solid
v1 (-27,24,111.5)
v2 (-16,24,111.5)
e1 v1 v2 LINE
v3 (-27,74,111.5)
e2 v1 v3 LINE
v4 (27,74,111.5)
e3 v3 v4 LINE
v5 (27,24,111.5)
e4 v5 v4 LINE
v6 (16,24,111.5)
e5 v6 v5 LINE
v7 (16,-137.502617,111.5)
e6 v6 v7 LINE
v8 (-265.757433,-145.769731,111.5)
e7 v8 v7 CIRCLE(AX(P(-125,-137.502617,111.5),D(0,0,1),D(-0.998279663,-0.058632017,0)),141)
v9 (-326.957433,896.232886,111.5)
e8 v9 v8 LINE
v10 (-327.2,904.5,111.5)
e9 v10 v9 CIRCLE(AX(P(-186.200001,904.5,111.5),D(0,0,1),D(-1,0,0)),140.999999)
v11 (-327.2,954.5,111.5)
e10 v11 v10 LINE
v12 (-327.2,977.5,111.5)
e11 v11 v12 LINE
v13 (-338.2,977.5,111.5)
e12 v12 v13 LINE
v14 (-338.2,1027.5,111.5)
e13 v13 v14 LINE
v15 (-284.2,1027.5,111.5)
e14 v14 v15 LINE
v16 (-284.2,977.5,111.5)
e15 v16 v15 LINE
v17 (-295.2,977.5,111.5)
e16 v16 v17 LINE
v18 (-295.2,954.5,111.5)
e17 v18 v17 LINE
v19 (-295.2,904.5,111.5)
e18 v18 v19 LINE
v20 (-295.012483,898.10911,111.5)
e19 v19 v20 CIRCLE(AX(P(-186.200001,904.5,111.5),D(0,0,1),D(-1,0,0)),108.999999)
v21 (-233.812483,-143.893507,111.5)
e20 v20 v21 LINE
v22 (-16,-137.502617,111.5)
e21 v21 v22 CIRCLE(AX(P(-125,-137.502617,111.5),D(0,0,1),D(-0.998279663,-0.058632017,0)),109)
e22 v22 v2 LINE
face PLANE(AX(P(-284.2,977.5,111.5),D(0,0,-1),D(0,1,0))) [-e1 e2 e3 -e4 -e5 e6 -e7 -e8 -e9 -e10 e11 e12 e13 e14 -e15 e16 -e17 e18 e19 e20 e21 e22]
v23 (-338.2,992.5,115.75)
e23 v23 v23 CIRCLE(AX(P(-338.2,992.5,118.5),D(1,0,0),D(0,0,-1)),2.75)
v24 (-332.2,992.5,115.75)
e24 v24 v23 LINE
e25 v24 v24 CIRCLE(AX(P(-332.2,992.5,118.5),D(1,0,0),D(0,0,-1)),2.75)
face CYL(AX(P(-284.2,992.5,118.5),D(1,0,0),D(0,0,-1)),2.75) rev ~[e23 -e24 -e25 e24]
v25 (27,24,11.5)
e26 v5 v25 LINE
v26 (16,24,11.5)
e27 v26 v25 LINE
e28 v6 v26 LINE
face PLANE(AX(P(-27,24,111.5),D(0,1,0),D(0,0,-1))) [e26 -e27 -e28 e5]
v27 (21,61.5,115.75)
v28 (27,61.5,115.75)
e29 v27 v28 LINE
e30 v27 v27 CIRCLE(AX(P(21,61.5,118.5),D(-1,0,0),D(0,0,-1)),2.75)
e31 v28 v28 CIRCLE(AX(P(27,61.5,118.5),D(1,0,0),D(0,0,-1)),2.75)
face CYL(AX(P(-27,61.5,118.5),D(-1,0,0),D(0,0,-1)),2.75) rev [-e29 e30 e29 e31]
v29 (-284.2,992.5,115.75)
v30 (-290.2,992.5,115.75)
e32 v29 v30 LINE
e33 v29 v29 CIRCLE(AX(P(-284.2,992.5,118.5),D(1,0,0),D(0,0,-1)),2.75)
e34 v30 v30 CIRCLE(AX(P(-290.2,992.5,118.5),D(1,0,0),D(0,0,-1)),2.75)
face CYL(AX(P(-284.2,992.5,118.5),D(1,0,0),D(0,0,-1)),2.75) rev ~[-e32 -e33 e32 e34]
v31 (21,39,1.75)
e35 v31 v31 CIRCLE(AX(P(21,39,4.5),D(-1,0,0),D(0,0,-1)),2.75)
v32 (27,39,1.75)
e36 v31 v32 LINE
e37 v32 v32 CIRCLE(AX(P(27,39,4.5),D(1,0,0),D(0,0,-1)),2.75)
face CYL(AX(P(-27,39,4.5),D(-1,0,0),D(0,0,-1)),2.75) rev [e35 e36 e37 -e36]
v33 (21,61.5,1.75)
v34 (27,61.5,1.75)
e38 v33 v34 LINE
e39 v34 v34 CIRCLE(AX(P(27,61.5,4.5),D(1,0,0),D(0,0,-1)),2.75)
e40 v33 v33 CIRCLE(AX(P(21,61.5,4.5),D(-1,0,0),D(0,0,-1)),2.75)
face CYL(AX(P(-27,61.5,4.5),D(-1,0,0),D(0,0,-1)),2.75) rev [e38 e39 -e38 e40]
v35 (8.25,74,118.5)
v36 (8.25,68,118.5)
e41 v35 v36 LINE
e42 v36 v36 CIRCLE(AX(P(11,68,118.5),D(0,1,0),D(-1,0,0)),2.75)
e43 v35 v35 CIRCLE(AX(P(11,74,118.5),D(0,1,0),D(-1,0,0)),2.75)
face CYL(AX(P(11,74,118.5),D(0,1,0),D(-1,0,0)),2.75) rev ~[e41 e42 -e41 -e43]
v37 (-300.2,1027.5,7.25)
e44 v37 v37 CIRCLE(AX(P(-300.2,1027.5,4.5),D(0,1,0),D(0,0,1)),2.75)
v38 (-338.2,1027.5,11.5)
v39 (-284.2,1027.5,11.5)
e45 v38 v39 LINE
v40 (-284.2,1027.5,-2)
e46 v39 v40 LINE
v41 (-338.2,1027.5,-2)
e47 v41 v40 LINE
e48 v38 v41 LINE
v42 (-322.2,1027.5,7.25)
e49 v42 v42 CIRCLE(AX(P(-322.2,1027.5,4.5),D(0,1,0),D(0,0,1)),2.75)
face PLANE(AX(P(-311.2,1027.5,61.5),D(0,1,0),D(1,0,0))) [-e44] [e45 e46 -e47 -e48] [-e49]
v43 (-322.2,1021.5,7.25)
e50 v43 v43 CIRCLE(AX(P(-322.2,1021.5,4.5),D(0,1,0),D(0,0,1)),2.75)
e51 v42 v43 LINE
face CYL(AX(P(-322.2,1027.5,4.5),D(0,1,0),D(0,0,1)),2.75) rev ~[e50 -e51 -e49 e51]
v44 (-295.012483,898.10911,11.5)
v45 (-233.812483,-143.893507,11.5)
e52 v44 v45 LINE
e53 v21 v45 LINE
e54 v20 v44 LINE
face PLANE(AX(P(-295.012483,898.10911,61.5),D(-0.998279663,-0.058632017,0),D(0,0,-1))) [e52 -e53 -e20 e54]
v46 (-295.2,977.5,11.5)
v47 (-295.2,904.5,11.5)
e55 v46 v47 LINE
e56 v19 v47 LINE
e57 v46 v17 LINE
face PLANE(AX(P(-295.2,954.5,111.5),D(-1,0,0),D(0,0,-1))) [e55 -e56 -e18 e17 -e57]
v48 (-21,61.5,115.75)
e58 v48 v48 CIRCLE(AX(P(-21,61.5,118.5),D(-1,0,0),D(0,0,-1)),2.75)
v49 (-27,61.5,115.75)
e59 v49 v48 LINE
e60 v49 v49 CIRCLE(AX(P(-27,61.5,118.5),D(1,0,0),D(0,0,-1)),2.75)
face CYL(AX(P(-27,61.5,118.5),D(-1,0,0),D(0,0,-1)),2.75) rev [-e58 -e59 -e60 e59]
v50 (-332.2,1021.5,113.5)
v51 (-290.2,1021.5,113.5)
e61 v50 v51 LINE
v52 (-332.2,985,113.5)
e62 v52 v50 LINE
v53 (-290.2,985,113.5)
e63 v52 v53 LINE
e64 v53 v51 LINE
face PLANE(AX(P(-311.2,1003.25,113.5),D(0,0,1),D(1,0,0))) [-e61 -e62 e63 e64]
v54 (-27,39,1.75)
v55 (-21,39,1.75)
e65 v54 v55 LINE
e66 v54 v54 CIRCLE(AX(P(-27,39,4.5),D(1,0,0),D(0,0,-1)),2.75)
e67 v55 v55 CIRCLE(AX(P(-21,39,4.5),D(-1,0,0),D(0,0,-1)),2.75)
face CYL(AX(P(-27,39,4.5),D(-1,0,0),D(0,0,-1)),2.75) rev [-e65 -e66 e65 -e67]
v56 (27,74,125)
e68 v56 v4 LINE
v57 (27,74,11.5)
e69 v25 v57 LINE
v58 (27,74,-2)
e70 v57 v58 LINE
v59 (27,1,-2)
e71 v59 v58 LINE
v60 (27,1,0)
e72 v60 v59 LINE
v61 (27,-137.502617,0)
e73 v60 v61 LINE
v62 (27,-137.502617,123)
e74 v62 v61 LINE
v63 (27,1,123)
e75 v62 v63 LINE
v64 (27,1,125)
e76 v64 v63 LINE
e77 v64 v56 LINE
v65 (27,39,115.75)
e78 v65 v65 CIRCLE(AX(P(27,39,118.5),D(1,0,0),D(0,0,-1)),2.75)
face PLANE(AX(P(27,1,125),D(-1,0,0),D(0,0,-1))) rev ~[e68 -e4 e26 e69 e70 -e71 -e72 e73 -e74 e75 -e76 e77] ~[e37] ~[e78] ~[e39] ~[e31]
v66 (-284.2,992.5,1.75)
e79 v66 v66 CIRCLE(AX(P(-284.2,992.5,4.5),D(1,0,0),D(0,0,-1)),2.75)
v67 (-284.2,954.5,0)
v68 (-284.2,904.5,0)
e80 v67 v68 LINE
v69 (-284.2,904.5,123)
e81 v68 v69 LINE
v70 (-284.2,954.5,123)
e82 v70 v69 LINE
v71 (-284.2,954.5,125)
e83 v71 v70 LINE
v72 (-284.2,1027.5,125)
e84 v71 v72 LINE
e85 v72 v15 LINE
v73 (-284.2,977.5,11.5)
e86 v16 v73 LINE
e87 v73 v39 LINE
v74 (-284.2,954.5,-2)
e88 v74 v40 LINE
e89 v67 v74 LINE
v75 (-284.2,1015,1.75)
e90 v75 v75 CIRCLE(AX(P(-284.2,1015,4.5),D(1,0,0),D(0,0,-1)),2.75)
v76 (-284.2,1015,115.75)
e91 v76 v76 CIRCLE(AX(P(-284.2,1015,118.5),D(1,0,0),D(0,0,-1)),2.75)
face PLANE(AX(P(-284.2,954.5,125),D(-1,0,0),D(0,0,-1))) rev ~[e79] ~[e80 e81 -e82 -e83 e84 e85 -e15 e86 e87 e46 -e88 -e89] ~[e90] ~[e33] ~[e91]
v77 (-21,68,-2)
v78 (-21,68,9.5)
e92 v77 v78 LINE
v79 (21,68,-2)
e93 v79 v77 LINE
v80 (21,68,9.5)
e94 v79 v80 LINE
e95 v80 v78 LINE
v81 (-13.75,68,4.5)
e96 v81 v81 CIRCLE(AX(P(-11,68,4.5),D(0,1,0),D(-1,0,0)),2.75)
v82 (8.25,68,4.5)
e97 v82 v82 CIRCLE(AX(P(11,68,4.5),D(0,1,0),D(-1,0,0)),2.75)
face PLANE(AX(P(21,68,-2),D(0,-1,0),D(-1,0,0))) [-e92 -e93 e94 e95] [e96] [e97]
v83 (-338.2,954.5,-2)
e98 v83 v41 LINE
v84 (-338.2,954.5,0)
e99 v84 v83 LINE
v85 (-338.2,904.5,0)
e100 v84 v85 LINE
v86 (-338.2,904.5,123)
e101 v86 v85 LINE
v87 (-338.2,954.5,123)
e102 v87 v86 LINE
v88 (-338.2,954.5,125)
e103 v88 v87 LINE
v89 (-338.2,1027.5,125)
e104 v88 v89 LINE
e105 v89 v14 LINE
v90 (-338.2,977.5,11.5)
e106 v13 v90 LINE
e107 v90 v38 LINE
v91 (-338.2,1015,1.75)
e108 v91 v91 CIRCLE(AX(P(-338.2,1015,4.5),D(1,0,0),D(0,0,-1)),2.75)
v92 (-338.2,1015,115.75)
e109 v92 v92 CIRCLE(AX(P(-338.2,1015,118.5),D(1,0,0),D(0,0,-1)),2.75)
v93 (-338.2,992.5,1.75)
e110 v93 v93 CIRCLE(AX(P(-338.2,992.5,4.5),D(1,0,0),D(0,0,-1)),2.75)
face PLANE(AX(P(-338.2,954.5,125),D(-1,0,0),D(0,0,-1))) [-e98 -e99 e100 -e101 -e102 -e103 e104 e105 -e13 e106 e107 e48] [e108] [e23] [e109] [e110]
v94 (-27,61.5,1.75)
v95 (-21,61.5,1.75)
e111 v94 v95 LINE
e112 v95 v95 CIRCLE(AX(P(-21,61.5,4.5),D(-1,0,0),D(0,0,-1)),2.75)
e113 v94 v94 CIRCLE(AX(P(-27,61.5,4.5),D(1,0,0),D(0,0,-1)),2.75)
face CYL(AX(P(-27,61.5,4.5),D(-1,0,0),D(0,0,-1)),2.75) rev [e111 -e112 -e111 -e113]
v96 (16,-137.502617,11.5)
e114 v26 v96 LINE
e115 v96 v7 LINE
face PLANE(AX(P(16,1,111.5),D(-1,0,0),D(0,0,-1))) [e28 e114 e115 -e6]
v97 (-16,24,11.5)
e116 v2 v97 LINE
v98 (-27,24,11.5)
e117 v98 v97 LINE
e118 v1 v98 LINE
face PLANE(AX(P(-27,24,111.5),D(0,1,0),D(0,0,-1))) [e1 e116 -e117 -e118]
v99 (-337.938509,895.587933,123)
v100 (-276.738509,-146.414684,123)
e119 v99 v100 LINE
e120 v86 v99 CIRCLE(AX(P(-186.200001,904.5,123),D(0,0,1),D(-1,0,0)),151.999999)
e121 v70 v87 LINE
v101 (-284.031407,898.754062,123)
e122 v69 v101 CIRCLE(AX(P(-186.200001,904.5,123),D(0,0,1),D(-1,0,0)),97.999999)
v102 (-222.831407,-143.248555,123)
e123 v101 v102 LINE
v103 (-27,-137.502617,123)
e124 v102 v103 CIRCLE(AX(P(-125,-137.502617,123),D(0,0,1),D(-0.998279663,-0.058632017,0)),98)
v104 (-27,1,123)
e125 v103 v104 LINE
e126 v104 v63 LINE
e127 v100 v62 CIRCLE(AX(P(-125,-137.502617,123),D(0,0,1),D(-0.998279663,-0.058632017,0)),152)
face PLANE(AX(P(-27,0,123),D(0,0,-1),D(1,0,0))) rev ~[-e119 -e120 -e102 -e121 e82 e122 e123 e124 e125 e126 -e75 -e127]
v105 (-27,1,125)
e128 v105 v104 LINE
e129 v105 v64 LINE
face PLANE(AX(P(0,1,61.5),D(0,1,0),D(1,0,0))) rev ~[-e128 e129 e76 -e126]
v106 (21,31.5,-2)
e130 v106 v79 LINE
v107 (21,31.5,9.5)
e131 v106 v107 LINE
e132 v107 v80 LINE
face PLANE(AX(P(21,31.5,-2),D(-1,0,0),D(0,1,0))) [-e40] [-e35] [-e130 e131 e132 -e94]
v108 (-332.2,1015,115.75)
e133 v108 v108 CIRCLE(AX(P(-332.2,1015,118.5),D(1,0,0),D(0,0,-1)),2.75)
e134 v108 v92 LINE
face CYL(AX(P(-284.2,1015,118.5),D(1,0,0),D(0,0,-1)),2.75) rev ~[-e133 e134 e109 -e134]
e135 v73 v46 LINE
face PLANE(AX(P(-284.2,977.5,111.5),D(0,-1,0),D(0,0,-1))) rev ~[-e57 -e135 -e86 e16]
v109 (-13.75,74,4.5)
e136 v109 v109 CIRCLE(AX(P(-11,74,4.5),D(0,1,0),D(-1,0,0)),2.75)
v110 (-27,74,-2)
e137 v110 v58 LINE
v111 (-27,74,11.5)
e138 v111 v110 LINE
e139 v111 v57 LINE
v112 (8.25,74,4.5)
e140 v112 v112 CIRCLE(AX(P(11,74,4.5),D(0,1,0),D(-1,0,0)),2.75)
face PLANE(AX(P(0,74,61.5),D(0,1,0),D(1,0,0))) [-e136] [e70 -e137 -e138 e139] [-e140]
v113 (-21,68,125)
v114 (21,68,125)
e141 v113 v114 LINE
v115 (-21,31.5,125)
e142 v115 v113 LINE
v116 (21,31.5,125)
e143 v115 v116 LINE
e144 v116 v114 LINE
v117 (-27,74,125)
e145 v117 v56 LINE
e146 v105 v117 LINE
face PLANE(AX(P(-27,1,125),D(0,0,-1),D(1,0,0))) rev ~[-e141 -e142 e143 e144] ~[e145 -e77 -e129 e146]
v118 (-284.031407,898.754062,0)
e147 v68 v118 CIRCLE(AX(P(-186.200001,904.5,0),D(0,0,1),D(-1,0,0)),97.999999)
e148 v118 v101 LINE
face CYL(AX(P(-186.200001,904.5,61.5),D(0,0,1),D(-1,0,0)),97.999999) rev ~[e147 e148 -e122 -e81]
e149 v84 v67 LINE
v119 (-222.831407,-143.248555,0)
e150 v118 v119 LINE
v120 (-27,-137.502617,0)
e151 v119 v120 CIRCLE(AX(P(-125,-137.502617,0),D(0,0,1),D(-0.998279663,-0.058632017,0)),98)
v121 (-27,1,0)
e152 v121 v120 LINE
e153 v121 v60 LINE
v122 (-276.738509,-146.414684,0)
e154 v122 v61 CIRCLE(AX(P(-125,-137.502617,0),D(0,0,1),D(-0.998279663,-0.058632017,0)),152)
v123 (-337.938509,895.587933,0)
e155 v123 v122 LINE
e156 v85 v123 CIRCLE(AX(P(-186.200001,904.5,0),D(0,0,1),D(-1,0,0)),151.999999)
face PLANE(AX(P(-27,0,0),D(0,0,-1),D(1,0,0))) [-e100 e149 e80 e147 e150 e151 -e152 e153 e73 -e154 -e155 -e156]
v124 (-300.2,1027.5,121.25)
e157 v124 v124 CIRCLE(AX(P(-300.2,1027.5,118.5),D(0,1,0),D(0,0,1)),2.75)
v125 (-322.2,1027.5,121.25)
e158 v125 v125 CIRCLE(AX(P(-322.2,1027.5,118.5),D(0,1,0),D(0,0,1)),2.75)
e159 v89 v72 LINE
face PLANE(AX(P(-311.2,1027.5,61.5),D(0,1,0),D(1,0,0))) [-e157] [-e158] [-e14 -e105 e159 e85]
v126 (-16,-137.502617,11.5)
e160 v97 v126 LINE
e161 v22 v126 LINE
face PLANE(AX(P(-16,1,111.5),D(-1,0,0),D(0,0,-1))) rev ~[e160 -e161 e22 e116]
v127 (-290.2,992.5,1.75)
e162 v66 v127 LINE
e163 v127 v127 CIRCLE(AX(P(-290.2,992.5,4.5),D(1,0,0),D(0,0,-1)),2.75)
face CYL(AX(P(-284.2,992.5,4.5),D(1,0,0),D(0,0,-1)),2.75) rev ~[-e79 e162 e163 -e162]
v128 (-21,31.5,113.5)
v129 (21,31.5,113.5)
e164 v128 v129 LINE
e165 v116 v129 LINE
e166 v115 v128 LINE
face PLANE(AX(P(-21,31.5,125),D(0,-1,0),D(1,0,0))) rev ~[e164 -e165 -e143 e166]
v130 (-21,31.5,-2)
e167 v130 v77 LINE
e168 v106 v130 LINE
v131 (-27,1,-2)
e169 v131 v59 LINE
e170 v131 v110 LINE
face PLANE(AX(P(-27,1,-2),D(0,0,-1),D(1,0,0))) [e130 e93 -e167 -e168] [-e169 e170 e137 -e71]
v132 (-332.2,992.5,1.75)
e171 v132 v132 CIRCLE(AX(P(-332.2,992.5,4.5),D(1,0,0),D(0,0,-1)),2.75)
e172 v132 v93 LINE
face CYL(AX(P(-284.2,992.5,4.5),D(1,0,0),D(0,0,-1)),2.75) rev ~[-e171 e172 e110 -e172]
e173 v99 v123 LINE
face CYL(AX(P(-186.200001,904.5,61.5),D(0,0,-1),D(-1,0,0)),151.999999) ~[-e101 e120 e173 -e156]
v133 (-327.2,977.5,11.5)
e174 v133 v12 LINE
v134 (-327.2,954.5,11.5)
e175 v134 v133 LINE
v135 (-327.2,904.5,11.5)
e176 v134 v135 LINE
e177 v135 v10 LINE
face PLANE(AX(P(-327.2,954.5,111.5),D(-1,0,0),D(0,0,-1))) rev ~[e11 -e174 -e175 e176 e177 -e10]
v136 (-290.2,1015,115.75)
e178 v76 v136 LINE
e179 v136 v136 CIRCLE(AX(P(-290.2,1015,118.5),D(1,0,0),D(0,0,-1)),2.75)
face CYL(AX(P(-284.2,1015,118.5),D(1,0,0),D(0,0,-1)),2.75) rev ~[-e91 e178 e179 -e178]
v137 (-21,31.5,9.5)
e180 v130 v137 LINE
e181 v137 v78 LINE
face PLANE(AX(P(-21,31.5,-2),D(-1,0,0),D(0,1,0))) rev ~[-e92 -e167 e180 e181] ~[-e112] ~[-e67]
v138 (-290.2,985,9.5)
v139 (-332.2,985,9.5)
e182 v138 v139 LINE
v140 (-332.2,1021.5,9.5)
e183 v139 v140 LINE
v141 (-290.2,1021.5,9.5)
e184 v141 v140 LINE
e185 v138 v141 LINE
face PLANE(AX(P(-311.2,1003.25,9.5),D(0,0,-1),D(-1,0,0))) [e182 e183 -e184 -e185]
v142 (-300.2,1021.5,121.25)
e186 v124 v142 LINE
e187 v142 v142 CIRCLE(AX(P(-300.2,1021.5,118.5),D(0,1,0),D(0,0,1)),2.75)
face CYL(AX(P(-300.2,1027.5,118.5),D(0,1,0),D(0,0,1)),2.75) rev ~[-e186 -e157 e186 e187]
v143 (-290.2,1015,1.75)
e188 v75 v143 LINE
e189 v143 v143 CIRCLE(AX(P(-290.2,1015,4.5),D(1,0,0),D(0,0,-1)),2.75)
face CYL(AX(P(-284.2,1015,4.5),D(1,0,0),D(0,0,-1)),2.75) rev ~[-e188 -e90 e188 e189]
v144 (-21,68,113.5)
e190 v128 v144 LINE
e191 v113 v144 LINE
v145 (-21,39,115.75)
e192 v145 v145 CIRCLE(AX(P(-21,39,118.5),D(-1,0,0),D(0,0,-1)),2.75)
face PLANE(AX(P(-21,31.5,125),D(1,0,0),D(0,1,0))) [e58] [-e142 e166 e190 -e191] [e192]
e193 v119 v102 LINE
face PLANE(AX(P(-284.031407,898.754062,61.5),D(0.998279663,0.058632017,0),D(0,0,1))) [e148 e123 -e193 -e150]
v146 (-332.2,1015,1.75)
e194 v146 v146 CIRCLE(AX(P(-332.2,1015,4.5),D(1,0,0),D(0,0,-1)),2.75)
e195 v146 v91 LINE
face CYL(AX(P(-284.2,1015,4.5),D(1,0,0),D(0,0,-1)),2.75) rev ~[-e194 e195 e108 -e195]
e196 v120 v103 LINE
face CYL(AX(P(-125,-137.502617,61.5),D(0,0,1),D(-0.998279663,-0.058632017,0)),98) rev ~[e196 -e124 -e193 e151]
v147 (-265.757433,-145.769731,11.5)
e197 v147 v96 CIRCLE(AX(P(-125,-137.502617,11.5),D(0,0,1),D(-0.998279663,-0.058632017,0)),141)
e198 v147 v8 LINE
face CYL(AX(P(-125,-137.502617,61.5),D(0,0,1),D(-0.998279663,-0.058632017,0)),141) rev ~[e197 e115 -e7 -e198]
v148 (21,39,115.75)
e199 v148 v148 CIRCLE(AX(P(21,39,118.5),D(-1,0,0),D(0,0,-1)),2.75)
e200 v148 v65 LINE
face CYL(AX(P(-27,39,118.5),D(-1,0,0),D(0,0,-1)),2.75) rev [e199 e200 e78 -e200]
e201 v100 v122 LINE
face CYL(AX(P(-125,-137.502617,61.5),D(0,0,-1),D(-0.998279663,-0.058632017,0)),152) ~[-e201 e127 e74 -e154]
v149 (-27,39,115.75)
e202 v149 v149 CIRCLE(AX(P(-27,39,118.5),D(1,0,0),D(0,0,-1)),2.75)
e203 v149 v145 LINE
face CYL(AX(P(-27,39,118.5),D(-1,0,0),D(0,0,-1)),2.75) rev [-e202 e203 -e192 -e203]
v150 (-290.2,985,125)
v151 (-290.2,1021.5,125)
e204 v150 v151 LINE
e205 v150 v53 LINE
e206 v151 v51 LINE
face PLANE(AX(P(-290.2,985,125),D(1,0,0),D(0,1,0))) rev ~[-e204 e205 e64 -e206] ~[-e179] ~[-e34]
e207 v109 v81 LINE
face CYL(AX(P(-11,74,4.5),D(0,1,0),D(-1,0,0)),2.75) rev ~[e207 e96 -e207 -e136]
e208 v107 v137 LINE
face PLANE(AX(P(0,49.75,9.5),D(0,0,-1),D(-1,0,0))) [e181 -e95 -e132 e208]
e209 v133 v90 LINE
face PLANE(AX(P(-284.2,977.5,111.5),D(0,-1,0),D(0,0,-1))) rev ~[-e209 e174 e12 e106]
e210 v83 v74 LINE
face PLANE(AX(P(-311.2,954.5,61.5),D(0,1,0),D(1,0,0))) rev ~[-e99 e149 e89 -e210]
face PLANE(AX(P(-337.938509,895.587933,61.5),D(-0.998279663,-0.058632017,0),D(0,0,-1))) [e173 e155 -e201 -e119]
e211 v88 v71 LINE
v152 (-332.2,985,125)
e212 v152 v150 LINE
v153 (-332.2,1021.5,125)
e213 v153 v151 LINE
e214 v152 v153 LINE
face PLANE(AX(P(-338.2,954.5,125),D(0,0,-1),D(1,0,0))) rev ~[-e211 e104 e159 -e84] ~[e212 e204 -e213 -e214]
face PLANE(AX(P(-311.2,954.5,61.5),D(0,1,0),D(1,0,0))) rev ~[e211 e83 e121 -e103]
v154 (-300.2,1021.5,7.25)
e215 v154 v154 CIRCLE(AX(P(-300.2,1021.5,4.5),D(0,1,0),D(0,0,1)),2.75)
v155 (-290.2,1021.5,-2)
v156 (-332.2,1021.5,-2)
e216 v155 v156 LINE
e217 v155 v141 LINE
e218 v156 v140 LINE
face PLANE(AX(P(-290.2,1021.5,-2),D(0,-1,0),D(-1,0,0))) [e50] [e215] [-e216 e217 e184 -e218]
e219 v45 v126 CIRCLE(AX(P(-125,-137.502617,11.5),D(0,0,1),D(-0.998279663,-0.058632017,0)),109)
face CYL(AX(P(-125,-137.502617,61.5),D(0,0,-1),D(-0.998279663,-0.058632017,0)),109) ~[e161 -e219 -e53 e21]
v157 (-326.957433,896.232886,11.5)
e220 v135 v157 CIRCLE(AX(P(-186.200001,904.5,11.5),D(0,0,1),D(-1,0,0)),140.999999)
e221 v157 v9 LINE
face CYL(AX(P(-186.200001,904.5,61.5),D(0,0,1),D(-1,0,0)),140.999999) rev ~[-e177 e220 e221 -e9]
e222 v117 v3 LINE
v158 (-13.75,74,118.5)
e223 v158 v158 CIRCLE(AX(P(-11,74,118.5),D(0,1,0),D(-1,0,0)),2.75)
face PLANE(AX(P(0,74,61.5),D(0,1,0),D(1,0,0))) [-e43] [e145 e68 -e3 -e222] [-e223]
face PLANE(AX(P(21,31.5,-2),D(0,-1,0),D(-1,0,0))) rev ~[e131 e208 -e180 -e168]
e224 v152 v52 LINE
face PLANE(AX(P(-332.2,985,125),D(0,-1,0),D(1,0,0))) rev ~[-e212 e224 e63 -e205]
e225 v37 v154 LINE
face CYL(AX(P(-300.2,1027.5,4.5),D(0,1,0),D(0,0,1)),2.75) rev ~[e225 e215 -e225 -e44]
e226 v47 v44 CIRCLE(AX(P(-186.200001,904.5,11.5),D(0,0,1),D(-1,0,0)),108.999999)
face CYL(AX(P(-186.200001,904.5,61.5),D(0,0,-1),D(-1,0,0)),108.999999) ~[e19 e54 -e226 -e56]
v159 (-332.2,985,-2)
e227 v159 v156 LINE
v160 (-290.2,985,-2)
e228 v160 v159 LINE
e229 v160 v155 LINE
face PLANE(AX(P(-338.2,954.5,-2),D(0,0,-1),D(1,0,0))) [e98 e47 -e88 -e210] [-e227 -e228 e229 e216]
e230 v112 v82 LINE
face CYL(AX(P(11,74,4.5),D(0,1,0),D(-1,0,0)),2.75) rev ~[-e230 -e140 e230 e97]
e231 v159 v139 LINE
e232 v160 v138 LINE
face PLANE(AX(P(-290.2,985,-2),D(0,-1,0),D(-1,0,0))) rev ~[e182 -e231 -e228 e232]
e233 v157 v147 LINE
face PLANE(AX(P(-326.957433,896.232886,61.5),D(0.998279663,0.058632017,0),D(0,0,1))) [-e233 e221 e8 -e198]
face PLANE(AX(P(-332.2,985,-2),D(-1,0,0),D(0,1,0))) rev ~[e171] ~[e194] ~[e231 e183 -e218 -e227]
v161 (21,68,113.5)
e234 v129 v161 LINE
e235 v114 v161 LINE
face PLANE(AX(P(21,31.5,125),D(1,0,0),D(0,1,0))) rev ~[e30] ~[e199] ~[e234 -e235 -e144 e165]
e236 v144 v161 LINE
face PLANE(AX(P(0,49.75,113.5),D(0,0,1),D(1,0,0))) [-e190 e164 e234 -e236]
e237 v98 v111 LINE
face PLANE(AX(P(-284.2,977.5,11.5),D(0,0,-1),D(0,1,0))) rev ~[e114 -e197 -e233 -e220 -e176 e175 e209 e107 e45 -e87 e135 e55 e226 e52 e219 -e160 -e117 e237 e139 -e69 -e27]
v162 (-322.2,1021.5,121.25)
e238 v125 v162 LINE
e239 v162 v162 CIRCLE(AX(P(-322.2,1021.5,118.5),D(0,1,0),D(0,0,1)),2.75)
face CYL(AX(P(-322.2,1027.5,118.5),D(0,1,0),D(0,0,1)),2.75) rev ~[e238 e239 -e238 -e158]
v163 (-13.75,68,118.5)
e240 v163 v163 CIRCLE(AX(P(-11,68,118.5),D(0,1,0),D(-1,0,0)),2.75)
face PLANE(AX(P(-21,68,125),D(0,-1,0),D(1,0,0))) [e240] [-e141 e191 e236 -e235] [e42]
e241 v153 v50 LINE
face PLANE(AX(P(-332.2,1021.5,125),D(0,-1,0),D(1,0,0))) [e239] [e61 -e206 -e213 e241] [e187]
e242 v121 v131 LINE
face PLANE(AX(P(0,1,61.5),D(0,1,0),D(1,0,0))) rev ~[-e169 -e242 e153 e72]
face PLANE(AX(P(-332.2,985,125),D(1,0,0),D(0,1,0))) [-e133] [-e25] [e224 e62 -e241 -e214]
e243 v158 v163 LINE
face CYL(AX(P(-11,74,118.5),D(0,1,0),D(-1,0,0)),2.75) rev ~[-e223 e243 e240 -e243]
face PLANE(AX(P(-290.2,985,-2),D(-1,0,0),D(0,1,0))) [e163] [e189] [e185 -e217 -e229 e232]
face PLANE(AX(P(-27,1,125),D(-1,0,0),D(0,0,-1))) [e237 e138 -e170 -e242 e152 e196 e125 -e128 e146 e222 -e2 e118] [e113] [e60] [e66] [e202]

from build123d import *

# Parameters (mm, degrees)
SKETCH2_W           = 54
SKETCH2_H           = 123
SKETCH2_W_2         = 32
SKETCH2_H_2         = 100
SKETCH12_W          = 54
SKETCH12_H          = 123
SKETCH12_W_2        = 32
SKETCH12_H_2        = 100
BOSS_EXTRUDE1_DEPTH = 1
SKETCH3_W           = 54
SKETCH3_H           = 127
SKETCH3_W_2         = 32
SKETCH3_H_2         = 100
EXTRUDE1_DEPTH      = 73
EXTRUDE2_START      = -54
SKETCH4_R           = 2.75
SKETCH4_W           = 100
SKETCH4_H           = 50
EXTRUDE2_DEPTH      = 54
SKETCH7_W           = 54
SKETCH7_H           = 127
SKETCH7_W_2         = 32
SKETCH7_H_2         = 100
EXTRUDE5_DEPTH      = 73
EXTRUDE6_REACH      = 1082.845
SKETCH8_R           = 2.75
SKETCH8_W           = 100
SKETCH8_H           = 50
SKETCH5_W           = 42
SKETCH5_H           = 36.5
EXTRUDE3_DEPTH      = 11.5
SKETCH6_W           = 42
SKETCH6_H           = 36.5
EXTRUDE4_DEPTH      = 11.5
SKETCH9_R           = 2.75
EXTRUDE7_DEPTH      = 7
SKETCH10_R          = 2.75
EXTRUDE8_DEPTH      = 7


with BuildPart() as part:
    # Sweep1: sweep along a path in Sketch1
    with BuildLine(Plane.XY) as sweep1_path:
        Line((-311.2, 954.5), (-311.2, 904.5))
        ThreePointArc((-311.2, 904.5), (-311.146227919, 900.833921861), (-310.984957937, 897.170997845))
        Line((-310.984957937, 897.170997845), (-249.784957937, -144.831619147))
        ThreePointArc((-249.784957937, -144.831619147), (-121.333921861, -262.44884491), (0, -137.502616992))
        Line((0, -137.502616992), (0, 0))
    # Sketch2 → Sweep1 (sweep)
    with BuildSketch(Plane(origin=(0, 0, 0), x_dir=(1, 0, 0), z_dir=(0, 1, 0))):
        with Locations((0, -61.5)):
            Rectangle(SKETCH2_W, SKETCH2_H)
        with Locations((0, -61.5)):
            Rectangle(SKETCH2_W_2, SKETCH2_H_2, mode=Mode.SUBTRACT)
    sweep(path=sweep1_path.line)

    # Sketch12 → Boss-Extrude1 (add)
    with BuildSketch(Plane(origin=(0, 0, 0), x_dir=(1, 0, 0), z_dir=(0, 1, 0))):
        with Locations((0, -61.5)):
            Rectangle(SKETCH12_W, SKETCH12_H)
        with Locations((0, -61.5)):
            Rectangle(SKETCH12_W_2, SKETCH12_H_2, mode=Mode.SUBTRACT)
    extrude(amount=BOSS_EXTRUDE1_DEPTH)

    # Sketch3 → Extrude1 (add)
    with BuildSketch(Plane(origin=(0, 1, 0), x_dir=(1, 0, 0), z_dir=(0, 1, 0))):
        with Locations((0, -61.5)):
            Rectangle(SKETCH3_W, SKETCH3_H)
        with Locations((0, -61.5)):
            Rectangle(SKETCH3_W_2, SKETCH3_H_2, mode=Mode.SUBTRACT)
    extrude(amount=EXTRUDE1_DEPTH)

    # Sketch4 → Extrude2 (cut)
    with BuildSketch(Plane(origin=(27, 0, 0), x_dir=(0, 0, -1), z_dir=(1, 0, 0)).offset(EXTRUDE2_START)):
        with Locations((-118.5, 61.5)):
            Circle(SKETCH4_R)
        with Locations((-118.5, 39)):
            Circle(SKETCH4_R)
        with Locations((-4.5, 39)):
            Circle(SKETCH4_R)
        with Locations((-4.5, 61.5)):
            Circle(SKETCH4_R)
        with Locations((-61.5, 49)):
            Rectangle(SKETCH4_W, SKETCH4_H)
    extrude(amount=EXTRUDE2_DEPTH, mode=Mode.SUBTRACT)

    # Sketch7 → Extrude5 (add)
    with BuildSketch(Plane(origin=(0, 954.5, 0), x_dir=(1, 0, 0), z_dir=(0, 1, 0))):
        with Locations((-311.2, -61.5)):
            Rectangle(SKETCH7_W, SKETCH7_H)
        with Locations((-311.2, -61.5)):
            Rectangle(SKETCH7_W_2, SKETCH7_H_2, mode=Mode.SUBTRACT)
    extrude(amount=EXTRUDE5_DEPTH)

    # Extrude6: up to this face of the body (flat: up to its plane)
    extrude6_end = Plane(part.part.faces().sort_by_distance((-338.2, 966.473380455, 61.5))[0])
    # Sketch8 → Extrude6 (cut, up to the picked face)
    with BuildSketch(Plane(origin=(-284.2, 0, 0), x_dir=(0, 0, -1), z_dir=(1, 0, 0)), mode=Mode.PRIVATE) as extrude6_sk1:
        with Locations((-4.5, 992.5)):
            Circle(SKETCH8_R)
    extrude6_tool1 = split(extrude(extrude6_sk1.sketch, amount=-EXTRUDE6_REACH, mode=Mode.PRIVATE), bisect_by=extrude6_end, keep=Keep.BOTH, mode=Mode.PRIVATE)
    # Sketch8 → Extrude6 (cut, up to the picked face)
    with BuildSketch(Plane(origin=(-284.2, 0, 0), x_dir=(0, 0, -1), z_dir=(1, 0, 0)), mode=Mode.PRIVATE) as extrude6_sk2:
        with Locations((-4.5, 1015)):
            Circle(SKETCH8_R)
    extrude6_tool2 = split(extrude(extrude6_sk2.sketch, amount=-EXTRUDE6_REACH, mode=Mode.PRIVATE), bisect_by=extrude6_end, keep=Keep.BOTH, mode=Mode.PRIVATE)
    # Sketch8 → Extrude6 (cut, up to the picked face)
    with BuildSketch(Plane(origin=(-284.2, 0, 0), x_dir=(0, 0, -1), z_dir=(1, 0, 0)), mode=Mode.PRIVATE) as extrude6_sk3:
        with Locations((-118.5, 992.5)):
            Circle(SKETCH8_R)
    extrude6_tool3 = split(extrude(extrude6_sk3.sketch, amount=-EXTRUDE6_REACH, mode=Mode.PRIVATE), bisect_by=extrude6_end, keep=Keep.BOTH, mode=Mode.PRIVATE)
    # Sketch8 → Extrude6 (cut, up to the picked face)
    with BuildSketch(Plane(origin=(-284.2, 0, 0), x_dir=(0, 0, -1), z_dir=(1, 0, 0)), mode=Mode.PRIVATE) as extrude6_sk4:
        with Locations((-118.5, 1015)):
            Circle(SKETCH8_R)
    extrude6_tool4 = split(extrude(extrude6_sk4.sketch, amount=-EXTRUDE6_REACH, mode=Mode.PRIVATE), bisect_by=extrude6_end, keep=Keep.BOTH, mode=Mode.PRIVATE)
    # Sketch8 → Extrude6 (cut, up to the picked face)
    with BuildSketch(Plane(origin=(-284.2, 0, 0), x_dir=(0, 0, -1), z_dir=(1, 0, 0)), mode=Mode.PRIVATE) as extrude6_sk5:
        with Locations((-61.5, 1002.5)):
            Rectangle(SKETCH8_W, SKETCH8_H)
    extrude6_tool5 = split(extrude(extrude6_sk5.sketch, amount=-EXTRUDE6_REACH, mode=Mode.PRIVATE), bisect_by=extrude6_end, keep=Keep.BOTH, mode=Mode.PRIVATE)
    add(extrude6_tool1.solids().sort_by(Axis((-284.2, 992.5, 4.5), (-1, 0, 0)))[0], mode=Mode.SUBTRACT)
    add(extrude6_tool2.solids().sort_by(Axis((-284.2, 1015, 4.5), (-1, 0, 0)))[0], mode=Mode.SUBTRACT)
    add(extrude6_tool3.solids().sort_by(Axis((-284.2, 992.5, 118.5), (-1, 0, 0)))[0], mode=Mode.SUBTRACT)
    add(extrude6_tool4.solids().sort_by(Axis((-284.2, 1015, 118.5), (-1, 0, 0)))[0], mode=Mode.SUBTRACT)
    add(extrude6_tool5.solids().sort_by(Axis((-284.2, 1002.5, 61.5), (-1, 0, 0)))[0], mode=Mode.SUBTRACT)

    # Sketch5 → Extrude3 (cut)
    with BuildSketch(Plane.XY.offset(125)):
        with Locations((0, 49.75)):
            Rectangle(SKETCH5_W, SKETCH5_H)
        with Locations((-311.2, 1003.25)):
            Rectangle(SKETCH5_W, SKETCH5_H)
    extrude(amount=-EXTRUDE3_DEPTH, mode=Mode.SUBTRACT)

    # Sketch6 → Extrude4 (cut)
    with BuildSketch(Plane(origin=(0, 0, -2), x_dir=(-1, 0, 0), z_dir=(0, 0, -1))):
        with Locations((0, 49.75)):
            Rectangle(SKETCH6_W, SKETCH6_H)
        with Locations((311.2, 1003.25)):
            Rectangle(SKETCH6_W, SKETCH6_H)
    extrude(amount=-EXTRUDE4_DEPTH, mode=Mode.SUBTRACT)

    # Sketch9 → Extrude7 (cut)
    with BuildSketch(Plane(origin=(0, 74, 0), x_dir=(1, 0, 0), z_dir=(0, 1, 0))):
        with Locations(Location((-11, -118.5, 0), (0, 0, 180))):
            Circle(SKETCH9_R)
        with Locations(Location((11, -118.5, 0), (0, 0, 180))):
            Circle(SKETCH9_R)
        with Locations(Location((11, -4.5, 0), (0, 0, 180))):
            Circle(SKETCH9_R)
        with Locations(Location((-11, -4.5, 0), (0, 0, 180))):
            Circle(SKETCH9_R)
    extrude(amount=-EXTRUDE7_DEPTH, mode=Mode.SUBTRACT)

    # Sketch10 → Extrude8 (cut)
    with BuildSketch(Plane(origin=(0, 1027.5, 0), x_dir=(1, 0, 0), z_dir=(0, 1, 0))):
        with Locations(Location((-322.2, -118.5, 0), (0, 0, 270))):
            Circle(SKETCH10_R)
        with Locations(Location((-300.2, -118.5, 0), (0, 0, 270))):
            Circle(SKETCH10_R)
        with Locations(Location((-322.2, -4.5, 0), (0, 0, 270))):
            Circle(SKETCH10_R)
        with Locations(Location((-300.2, -4.5, 0), (0, 0, 270))):
            Circle(SKETCH10_R)
    extrude(amount=-EXTRUDE8_DEPTH, mode=Mode.SUBTRACT)


solid = part.part
